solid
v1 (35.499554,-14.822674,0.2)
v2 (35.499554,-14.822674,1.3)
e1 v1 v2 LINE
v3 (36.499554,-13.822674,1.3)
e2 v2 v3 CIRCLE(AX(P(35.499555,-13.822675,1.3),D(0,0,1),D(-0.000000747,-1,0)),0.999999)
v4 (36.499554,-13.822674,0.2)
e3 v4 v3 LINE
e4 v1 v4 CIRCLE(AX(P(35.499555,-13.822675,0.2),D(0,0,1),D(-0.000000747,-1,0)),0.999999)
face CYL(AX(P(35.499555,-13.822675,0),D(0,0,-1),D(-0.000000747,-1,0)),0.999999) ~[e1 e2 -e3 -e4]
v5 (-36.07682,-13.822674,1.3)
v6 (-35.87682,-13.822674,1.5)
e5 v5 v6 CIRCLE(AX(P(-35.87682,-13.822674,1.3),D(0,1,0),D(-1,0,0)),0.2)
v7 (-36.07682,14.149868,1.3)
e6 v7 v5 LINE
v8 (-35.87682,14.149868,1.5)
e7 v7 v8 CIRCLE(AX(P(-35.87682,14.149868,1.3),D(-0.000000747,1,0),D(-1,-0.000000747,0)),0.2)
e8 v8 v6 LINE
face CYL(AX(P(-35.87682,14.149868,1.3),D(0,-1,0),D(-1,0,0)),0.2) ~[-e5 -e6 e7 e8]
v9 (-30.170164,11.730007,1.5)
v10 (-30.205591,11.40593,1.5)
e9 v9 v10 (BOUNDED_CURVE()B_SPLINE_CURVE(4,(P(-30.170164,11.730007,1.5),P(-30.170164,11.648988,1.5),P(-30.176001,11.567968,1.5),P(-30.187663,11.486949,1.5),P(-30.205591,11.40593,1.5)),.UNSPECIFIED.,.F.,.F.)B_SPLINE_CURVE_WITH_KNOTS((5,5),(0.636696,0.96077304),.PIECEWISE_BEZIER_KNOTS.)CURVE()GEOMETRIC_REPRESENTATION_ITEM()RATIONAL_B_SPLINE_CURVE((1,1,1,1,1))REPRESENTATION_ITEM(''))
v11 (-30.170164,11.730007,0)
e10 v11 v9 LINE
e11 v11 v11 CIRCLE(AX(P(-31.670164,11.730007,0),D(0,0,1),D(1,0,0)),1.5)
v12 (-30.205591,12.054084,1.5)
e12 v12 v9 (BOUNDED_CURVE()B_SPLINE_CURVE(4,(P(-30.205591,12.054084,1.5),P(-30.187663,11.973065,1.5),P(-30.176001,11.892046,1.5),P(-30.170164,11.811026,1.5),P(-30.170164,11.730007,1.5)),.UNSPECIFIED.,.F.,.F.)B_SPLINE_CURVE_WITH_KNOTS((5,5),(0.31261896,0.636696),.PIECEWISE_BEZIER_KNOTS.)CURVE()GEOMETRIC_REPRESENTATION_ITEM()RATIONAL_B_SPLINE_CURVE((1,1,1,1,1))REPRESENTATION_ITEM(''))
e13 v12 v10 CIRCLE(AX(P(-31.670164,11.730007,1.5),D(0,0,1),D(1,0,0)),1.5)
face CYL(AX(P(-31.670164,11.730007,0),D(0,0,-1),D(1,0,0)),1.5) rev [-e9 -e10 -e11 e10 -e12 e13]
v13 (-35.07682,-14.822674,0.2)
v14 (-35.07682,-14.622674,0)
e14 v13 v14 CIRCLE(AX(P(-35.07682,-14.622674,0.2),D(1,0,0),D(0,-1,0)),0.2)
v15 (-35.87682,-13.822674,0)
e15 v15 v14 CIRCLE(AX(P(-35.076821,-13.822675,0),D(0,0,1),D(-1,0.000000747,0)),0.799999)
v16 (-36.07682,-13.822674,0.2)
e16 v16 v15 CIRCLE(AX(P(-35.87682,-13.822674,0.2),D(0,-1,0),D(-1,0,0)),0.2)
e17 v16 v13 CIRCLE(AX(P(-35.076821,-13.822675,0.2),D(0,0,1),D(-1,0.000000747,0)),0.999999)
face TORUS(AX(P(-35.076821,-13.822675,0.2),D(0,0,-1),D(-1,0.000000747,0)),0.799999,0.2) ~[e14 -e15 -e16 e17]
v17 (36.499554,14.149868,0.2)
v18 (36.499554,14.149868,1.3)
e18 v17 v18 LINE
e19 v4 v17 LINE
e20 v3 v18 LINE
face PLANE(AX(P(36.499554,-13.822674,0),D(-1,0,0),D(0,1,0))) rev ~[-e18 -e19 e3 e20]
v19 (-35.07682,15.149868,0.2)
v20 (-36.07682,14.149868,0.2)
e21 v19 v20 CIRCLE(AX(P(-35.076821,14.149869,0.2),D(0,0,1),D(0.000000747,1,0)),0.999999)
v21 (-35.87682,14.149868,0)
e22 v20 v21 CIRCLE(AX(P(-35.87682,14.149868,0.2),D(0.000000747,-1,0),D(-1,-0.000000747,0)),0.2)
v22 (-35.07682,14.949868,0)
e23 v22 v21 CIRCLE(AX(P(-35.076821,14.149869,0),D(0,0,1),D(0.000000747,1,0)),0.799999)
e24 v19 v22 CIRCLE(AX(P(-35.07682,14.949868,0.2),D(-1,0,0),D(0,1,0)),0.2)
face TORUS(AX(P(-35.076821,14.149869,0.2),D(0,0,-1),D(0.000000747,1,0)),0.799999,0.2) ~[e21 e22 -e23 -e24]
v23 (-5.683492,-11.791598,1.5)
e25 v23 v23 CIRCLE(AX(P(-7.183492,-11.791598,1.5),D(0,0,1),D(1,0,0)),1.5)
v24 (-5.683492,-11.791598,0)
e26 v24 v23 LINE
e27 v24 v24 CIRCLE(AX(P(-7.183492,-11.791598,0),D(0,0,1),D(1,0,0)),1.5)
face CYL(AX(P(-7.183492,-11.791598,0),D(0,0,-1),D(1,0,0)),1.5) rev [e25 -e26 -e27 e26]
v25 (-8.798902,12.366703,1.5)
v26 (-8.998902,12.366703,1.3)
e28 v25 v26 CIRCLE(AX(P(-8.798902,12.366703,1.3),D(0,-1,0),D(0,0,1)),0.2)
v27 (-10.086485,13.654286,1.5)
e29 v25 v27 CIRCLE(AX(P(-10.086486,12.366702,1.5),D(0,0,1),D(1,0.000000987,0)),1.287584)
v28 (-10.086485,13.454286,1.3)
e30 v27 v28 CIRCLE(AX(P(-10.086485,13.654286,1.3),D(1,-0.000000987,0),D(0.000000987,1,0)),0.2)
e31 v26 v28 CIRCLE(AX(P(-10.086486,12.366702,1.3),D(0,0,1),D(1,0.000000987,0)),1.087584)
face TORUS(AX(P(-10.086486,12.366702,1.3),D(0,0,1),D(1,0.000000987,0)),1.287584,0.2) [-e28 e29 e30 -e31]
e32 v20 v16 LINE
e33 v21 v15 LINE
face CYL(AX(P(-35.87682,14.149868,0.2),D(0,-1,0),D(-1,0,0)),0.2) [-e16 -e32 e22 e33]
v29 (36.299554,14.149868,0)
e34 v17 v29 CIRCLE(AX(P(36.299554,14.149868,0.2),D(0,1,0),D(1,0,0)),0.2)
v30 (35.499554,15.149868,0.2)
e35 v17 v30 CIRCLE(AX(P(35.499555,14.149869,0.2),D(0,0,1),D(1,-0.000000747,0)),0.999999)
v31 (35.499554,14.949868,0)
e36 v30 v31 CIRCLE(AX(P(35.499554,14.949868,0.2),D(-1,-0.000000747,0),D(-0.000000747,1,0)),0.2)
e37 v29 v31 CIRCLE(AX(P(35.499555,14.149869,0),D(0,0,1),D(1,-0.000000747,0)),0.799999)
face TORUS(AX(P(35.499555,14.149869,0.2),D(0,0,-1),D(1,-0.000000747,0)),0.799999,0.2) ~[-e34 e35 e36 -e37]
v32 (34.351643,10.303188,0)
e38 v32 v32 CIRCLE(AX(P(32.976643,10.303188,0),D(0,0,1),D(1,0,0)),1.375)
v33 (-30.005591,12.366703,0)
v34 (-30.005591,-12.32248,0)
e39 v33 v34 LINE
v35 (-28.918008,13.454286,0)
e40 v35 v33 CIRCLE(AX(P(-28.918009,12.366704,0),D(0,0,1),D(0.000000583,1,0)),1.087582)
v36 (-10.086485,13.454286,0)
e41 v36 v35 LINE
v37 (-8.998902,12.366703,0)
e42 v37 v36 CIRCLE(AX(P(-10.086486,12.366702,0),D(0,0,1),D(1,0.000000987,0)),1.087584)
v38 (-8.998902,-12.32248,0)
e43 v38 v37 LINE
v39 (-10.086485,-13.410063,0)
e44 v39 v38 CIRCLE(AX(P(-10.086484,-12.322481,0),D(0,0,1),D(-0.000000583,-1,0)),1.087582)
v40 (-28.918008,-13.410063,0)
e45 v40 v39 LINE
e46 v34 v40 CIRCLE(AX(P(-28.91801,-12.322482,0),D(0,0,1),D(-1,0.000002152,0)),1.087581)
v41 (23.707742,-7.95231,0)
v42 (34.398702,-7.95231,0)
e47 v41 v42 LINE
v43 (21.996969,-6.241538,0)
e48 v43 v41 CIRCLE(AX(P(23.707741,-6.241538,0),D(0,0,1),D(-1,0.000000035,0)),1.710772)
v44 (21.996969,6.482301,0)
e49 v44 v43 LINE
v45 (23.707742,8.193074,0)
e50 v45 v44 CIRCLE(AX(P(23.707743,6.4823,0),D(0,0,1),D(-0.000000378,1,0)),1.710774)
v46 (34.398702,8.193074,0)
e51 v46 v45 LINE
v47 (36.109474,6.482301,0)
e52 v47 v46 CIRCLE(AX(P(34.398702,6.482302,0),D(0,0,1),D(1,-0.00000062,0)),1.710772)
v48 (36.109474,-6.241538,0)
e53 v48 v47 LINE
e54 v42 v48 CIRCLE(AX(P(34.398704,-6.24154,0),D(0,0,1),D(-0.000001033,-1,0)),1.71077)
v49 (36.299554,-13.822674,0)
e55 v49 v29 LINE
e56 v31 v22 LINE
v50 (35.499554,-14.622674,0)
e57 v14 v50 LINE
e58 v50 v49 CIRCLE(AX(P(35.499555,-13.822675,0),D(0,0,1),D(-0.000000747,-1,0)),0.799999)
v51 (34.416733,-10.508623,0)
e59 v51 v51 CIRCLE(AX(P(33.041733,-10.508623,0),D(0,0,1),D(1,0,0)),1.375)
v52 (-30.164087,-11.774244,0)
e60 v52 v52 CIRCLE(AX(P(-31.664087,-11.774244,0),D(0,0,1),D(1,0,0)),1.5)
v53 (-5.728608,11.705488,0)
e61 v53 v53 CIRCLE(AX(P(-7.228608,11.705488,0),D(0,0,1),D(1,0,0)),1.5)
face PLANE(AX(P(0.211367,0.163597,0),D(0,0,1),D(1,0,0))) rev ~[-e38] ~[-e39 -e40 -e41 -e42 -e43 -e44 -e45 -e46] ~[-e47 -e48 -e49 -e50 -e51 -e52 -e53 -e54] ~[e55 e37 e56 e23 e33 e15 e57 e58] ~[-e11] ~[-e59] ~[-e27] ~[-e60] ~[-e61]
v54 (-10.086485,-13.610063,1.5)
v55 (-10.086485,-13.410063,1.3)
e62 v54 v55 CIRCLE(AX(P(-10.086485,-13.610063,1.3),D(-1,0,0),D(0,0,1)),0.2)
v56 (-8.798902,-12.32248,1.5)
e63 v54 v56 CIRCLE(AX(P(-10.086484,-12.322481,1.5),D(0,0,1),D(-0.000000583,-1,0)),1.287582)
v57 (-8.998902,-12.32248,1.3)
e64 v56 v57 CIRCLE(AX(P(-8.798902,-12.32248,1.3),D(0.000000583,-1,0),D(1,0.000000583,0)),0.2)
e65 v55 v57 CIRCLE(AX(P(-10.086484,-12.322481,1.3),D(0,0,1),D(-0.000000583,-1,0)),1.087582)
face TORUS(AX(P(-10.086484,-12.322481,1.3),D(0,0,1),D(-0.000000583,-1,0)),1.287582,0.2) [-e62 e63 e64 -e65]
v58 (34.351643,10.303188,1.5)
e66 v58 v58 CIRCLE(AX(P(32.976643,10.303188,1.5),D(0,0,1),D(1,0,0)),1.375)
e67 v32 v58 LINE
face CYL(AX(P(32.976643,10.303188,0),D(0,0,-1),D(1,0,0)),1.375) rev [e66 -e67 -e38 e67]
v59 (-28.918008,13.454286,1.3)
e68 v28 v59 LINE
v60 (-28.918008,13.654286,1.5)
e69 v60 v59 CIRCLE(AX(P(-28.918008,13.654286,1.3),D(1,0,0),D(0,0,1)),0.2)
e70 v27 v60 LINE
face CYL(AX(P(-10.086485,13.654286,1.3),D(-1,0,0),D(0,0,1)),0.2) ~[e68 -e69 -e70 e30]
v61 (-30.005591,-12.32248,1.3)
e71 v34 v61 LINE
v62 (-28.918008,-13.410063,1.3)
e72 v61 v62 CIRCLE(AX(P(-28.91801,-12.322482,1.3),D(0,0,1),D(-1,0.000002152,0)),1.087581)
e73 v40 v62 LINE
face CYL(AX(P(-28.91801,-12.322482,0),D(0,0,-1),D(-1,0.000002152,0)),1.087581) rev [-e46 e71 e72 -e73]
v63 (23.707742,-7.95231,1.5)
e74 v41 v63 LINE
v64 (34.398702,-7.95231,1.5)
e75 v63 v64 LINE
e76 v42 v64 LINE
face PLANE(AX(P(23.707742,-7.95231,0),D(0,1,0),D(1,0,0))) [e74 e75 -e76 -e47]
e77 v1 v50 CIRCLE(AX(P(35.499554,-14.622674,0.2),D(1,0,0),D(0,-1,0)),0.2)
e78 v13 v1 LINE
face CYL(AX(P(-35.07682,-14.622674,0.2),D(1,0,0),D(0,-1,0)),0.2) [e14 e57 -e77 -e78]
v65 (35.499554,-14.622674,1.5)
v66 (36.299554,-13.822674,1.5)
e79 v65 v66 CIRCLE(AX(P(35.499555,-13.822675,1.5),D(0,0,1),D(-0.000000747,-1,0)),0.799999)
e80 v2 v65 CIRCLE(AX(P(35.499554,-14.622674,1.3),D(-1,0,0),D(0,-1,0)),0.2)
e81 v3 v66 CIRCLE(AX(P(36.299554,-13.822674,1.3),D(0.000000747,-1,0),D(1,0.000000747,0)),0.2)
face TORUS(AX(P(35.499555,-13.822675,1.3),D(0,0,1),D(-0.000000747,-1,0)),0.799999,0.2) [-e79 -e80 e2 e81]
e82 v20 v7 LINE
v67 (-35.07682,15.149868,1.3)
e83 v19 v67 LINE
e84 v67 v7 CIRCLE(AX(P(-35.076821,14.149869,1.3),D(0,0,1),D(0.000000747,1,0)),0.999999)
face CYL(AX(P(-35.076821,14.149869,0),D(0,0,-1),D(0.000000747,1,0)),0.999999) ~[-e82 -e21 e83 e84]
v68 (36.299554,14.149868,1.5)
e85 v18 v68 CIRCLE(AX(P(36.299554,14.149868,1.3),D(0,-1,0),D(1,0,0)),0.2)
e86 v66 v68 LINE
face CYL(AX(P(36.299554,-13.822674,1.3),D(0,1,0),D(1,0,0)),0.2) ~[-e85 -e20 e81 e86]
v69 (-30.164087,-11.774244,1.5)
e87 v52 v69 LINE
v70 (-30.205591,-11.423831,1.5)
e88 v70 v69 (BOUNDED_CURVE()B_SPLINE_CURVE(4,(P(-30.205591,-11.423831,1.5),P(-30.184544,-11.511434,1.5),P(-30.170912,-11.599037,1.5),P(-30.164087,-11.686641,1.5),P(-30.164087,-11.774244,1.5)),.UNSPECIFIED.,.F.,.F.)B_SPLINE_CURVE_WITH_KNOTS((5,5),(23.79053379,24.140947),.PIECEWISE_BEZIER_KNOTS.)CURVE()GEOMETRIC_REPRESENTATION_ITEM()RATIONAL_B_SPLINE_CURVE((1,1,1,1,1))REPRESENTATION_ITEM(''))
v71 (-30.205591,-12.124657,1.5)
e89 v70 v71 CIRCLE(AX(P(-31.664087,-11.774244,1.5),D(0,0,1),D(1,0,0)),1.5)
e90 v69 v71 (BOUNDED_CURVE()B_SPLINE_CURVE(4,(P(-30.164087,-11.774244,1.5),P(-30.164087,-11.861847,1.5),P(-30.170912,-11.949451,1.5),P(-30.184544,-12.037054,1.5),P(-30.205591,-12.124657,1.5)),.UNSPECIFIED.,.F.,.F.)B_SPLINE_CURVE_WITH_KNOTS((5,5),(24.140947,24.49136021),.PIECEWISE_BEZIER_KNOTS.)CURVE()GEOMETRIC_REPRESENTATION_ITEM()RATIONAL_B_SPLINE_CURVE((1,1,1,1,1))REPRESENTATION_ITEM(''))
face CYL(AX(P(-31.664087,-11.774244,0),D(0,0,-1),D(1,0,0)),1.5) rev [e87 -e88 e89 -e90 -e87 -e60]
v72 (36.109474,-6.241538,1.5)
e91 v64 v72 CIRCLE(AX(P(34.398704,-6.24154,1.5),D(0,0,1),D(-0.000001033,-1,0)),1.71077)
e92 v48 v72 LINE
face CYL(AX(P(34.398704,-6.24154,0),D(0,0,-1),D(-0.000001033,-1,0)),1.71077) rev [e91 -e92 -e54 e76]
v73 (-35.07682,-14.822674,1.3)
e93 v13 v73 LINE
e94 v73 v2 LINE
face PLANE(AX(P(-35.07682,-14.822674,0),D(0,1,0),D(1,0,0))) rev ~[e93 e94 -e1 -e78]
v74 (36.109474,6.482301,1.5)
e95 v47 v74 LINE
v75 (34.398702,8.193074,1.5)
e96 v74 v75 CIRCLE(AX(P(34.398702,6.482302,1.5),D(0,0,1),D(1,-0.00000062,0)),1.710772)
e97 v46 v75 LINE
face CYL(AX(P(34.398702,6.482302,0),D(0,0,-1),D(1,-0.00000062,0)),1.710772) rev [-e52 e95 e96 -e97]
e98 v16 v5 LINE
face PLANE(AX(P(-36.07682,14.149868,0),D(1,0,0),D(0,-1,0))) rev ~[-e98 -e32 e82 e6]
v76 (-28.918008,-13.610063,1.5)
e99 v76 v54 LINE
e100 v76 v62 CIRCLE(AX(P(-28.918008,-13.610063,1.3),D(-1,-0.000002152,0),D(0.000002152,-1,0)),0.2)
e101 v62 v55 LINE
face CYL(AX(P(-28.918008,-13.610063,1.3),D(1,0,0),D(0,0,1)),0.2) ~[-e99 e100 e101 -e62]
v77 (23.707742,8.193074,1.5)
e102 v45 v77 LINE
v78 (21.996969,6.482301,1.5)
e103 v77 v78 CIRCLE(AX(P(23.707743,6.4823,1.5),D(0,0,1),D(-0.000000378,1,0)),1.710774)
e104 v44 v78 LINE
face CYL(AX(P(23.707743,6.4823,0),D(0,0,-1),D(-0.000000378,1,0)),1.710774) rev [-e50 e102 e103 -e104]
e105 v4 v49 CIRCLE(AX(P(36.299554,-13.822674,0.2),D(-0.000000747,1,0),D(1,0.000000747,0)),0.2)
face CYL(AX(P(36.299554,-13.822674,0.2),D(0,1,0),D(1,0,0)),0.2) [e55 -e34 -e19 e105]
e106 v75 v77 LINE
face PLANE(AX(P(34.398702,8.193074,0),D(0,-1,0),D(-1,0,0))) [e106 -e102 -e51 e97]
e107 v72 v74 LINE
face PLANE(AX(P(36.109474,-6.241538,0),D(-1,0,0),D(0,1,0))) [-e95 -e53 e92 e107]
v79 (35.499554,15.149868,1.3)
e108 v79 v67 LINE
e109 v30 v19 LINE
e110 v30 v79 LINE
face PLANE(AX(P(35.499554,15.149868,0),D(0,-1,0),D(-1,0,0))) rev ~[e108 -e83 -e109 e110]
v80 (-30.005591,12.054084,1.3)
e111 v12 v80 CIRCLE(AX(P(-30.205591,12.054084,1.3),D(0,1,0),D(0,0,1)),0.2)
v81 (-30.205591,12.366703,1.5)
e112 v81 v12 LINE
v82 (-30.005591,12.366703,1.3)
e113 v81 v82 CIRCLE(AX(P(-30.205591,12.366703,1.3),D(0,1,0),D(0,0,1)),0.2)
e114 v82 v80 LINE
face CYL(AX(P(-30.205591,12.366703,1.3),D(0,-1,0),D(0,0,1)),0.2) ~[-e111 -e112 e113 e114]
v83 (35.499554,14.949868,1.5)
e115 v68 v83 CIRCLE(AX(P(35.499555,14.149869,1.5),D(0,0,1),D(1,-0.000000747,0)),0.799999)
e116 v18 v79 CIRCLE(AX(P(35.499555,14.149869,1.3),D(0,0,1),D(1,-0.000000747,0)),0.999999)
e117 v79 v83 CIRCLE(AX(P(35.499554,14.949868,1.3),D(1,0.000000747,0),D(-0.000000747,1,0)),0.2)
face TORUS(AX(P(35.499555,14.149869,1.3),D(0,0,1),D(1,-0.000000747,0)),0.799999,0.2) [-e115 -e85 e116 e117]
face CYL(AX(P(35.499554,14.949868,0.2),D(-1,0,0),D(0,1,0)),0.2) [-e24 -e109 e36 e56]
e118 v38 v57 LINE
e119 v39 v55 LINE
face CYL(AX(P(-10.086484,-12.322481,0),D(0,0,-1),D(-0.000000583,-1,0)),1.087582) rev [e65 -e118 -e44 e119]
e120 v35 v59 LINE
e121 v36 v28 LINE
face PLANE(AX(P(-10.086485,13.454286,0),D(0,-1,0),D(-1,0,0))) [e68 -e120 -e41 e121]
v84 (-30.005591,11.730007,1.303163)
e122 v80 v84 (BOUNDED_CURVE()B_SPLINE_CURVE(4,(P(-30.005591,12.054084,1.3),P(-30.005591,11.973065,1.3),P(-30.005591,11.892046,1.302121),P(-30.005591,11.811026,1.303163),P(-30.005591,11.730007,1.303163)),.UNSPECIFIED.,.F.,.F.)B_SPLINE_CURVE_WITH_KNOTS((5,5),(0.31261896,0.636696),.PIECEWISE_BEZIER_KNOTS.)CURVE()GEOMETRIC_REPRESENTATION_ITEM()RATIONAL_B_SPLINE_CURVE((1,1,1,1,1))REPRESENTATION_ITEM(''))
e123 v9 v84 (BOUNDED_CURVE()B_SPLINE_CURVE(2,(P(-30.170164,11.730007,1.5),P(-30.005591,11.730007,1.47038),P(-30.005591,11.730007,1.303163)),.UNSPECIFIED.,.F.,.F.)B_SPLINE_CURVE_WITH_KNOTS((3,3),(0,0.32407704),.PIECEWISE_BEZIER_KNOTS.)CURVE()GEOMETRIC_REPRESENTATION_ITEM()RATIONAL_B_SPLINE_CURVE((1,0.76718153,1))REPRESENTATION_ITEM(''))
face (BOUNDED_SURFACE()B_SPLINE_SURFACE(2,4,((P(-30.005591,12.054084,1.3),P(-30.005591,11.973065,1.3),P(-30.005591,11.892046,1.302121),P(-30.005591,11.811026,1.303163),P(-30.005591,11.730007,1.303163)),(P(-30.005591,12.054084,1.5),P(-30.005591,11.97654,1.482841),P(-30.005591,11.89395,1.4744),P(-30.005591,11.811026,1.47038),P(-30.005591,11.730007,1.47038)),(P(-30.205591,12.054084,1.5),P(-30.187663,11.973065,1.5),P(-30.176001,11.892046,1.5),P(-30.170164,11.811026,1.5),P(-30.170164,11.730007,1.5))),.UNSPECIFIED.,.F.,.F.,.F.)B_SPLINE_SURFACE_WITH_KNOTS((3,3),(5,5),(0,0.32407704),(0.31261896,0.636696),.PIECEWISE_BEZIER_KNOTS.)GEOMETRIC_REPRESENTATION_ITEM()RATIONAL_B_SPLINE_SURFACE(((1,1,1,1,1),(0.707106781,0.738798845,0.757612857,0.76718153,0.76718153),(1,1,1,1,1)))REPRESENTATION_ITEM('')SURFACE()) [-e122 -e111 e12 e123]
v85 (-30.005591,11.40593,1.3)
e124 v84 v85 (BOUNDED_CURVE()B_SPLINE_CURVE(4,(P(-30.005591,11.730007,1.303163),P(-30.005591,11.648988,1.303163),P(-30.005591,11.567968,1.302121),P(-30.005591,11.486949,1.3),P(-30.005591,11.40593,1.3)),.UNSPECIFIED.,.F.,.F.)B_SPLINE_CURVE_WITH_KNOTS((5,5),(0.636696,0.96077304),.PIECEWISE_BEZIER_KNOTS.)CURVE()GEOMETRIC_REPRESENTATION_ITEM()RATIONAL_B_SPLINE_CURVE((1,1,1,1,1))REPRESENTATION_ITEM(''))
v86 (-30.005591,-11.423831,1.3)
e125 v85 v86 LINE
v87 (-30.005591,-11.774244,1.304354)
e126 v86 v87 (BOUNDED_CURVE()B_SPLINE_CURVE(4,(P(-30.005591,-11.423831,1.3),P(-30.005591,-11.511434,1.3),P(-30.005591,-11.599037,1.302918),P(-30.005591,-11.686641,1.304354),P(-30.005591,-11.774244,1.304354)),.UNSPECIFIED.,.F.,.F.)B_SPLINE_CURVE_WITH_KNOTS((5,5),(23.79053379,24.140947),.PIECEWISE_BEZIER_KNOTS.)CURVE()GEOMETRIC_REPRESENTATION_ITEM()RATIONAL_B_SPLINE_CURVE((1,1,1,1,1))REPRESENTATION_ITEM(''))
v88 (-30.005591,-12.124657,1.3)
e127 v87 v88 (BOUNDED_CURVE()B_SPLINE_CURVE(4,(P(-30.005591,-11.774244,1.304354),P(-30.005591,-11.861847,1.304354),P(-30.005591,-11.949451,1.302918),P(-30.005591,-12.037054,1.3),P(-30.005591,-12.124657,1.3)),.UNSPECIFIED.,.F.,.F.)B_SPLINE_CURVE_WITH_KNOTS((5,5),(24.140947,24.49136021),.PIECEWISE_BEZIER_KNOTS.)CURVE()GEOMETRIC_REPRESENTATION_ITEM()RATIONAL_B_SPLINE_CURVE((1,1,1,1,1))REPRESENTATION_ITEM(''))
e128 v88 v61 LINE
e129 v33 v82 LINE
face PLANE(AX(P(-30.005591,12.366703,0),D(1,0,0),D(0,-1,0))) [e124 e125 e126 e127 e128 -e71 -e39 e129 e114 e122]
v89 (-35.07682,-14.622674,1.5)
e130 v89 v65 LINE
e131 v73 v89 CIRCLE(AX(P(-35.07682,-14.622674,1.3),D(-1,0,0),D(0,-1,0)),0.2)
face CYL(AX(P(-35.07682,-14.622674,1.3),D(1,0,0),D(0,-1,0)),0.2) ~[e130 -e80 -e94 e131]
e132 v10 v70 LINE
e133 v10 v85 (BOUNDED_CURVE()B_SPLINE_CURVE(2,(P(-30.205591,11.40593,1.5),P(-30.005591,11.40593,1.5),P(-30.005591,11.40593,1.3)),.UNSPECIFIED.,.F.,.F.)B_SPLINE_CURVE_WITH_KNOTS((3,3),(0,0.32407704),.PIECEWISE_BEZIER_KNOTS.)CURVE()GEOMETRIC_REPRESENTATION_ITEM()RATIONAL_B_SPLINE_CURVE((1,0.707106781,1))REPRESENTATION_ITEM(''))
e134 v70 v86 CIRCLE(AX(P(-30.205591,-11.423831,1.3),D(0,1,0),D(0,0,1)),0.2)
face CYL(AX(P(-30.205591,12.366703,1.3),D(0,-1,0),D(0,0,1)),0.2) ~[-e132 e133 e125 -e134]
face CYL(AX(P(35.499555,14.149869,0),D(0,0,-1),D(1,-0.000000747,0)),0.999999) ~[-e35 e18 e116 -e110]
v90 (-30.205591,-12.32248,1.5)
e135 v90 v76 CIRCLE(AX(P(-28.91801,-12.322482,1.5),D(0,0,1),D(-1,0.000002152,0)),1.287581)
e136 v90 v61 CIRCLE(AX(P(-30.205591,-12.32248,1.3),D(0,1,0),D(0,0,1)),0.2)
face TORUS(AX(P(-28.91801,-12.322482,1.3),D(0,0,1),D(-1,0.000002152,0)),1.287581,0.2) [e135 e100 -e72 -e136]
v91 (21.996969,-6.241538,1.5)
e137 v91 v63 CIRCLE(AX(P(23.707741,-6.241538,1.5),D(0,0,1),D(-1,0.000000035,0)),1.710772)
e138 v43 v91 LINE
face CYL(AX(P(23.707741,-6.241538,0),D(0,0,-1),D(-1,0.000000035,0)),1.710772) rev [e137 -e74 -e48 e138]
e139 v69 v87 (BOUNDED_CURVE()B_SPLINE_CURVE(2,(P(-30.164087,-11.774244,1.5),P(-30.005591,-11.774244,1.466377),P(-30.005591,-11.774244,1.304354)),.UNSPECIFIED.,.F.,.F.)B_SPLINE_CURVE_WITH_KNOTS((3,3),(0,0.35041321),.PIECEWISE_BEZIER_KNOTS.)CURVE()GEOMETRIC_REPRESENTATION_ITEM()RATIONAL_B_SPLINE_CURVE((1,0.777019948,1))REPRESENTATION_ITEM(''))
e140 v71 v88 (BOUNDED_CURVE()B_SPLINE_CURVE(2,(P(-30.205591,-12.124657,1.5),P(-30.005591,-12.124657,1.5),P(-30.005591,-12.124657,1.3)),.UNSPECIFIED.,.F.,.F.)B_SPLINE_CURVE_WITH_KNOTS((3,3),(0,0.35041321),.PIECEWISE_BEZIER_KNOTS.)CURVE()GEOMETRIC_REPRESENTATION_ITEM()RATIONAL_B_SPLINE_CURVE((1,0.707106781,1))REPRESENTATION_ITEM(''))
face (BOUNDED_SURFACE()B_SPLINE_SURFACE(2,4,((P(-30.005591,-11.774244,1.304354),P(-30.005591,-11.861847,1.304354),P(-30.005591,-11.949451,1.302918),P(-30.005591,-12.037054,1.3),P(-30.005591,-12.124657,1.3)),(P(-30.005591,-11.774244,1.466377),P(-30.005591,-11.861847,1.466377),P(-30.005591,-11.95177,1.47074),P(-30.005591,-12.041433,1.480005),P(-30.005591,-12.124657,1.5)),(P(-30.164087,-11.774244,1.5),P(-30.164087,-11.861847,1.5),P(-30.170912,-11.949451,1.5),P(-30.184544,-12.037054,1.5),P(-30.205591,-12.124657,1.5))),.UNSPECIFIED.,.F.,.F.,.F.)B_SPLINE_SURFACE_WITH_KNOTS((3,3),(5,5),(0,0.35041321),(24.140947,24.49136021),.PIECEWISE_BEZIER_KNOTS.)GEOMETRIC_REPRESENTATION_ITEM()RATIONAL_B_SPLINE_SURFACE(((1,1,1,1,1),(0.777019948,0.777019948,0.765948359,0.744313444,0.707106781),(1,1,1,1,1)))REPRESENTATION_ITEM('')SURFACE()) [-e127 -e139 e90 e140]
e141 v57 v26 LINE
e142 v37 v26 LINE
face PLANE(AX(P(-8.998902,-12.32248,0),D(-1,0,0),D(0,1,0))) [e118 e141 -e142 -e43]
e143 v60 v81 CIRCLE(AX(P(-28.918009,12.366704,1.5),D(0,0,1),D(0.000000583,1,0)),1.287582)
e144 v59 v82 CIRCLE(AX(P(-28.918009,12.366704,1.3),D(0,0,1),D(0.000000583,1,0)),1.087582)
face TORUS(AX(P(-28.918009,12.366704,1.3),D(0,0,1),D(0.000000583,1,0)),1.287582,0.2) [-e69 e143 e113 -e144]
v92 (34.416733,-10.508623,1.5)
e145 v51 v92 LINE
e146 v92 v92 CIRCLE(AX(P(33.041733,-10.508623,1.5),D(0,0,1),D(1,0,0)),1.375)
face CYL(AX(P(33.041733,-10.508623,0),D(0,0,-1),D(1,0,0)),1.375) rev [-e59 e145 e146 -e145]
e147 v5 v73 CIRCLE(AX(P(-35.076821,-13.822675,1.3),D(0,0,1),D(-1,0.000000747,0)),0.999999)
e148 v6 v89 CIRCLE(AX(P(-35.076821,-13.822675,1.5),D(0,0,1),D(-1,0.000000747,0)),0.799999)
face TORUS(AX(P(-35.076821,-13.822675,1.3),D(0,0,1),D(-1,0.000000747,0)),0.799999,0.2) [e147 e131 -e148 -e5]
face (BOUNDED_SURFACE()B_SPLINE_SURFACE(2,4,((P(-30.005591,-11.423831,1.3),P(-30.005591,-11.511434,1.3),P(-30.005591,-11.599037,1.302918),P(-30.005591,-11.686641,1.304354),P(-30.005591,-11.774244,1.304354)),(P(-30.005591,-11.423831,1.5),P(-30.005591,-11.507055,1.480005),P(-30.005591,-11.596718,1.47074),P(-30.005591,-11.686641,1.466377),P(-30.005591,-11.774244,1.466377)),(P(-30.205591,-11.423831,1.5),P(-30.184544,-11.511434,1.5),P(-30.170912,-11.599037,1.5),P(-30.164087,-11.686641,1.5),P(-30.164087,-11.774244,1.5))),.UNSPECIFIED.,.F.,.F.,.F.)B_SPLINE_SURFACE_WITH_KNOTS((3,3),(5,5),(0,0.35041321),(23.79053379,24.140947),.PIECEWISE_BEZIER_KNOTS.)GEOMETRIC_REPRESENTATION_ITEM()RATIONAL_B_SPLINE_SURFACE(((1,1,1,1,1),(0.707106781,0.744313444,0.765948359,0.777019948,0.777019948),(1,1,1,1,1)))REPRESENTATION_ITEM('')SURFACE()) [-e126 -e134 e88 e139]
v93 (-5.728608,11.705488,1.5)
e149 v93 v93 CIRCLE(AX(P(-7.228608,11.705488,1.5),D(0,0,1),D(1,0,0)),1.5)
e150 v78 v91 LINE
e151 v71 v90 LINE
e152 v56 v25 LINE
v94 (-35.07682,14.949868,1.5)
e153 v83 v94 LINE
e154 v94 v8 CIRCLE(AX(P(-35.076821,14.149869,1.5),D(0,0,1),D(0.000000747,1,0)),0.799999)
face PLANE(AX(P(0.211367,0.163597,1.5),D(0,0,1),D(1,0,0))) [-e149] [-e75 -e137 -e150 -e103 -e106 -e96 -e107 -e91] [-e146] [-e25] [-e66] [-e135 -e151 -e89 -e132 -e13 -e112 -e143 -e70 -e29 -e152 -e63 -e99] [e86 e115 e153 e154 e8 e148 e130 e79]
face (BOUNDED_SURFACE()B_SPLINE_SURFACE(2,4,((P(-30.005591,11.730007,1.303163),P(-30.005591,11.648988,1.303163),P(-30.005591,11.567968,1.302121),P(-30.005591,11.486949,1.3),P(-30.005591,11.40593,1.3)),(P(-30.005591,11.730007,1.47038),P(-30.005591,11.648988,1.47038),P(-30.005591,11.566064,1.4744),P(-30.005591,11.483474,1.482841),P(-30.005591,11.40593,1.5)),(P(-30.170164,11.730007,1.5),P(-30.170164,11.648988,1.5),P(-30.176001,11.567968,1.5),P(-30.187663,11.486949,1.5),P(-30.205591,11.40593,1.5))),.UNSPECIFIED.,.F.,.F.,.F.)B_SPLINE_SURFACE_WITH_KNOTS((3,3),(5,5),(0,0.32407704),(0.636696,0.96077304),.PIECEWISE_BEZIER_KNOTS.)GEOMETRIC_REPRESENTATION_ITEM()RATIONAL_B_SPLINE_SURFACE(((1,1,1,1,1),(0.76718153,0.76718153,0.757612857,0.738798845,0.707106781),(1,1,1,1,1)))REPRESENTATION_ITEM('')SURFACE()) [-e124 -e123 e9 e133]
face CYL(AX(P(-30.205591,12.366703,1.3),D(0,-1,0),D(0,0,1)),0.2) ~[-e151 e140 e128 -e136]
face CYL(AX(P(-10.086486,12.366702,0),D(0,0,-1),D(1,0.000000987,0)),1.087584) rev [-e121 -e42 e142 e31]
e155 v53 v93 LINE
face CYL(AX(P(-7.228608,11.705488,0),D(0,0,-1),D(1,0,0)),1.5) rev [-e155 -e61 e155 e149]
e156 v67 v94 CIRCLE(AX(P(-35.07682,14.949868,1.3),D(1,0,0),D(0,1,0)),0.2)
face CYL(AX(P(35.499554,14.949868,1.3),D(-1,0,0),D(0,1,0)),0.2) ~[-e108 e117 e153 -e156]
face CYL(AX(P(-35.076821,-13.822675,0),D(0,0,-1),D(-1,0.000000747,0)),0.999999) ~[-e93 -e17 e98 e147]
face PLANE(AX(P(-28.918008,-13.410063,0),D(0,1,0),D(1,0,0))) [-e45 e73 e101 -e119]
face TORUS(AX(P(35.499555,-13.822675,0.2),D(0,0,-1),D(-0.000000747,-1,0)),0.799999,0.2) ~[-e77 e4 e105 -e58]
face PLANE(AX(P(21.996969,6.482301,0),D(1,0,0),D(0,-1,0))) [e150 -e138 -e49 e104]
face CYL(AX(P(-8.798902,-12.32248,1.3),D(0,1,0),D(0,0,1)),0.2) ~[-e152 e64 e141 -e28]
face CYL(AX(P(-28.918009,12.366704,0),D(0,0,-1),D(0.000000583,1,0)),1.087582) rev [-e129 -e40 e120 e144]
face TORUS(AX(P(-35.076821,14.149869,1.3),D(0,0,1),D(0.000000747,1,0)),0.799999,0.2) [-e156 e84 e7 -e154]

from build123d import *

# Parameters (mm, degrees)
SKETCH001_R   = 1.5
SKETCH001_R_2 = 1.375
PAD001_DEPTH  = 1.5
FILLET001_R   = 0.2
FILLET002_R   = 0.2
FILLET003_R   = 0.2


with BuildPart() as part:
    # Sketch001 → Pad001 (new body)
    with BuildSketch(Plane.XY):
        with BuildLine():
            Line((-35.07682, -14.822674), (35.499554, -14.822674))
            ThreePointArc((35.499554, -14.822674), (36.206661, -14.529781), (36.499554, -13.822674))
            Line((36.499554, -13.822674), (36.499554, 14.149868))
            ThreePointArc((36.499554, 14.149868), (36.206661, 14.856975), (35.499554, 15.149868))
            Line((35.499554, 15.149868), (-35.07682, 15.149868))
            ThreePointArc((-35.07682, 15.149868), (-35.783927, 14.856975), (-36.07682, 14.149868))
            Line((-36.07682, 14.149868), (-36.07682, -13.822674))
            ThreePointArc((-36.07682, -13.822674), (-35.783927, -14.529781), (-35.07682, -14.822674))
        make_face()
        with Locations((-31.664087, -11.774244)):
            Circle(SKETCH001_R, mode=Mode.SUBTRACT)
        with Locations((-31.670164, 11.730007)):
            Circle(SKETCH001_R, mode=Mode.SUBTRACT)
        with Locations((-7.183492, -11.791598)):
            Circle(SKETCH001_R, mode=Mode.SUBTRACT)
        with Locations((-7.228608, 11.705488)):
            Circle(SKETCH001_R, mode=Mode.SUBTRACT)
        with Locations((32.976643, 10.303188)):
            Circle(SKETCH001_R_2, mode=Mode.SUBTRACT)
        with Locations((33.041733, -10.508623)):
            Circle(SKETCH001_R_2, mode=Mode.SUBTRACT)
        with BuildLine():
            Line((34.398702, 8.193074), (23.707742, 8.193074))
            ThreePointArc((23.707742, 8.193074), (22.498043, 7.692), (21.996969, 6.482301))
            Line((21.996969, 6.482301), (21.996969, -6.241538))
            ThreePointArc((21.996969, -6.241538), (22.498043, -7.451237), (23.707742, -7.95231))
            Line((23.707742, -7.95231), (34.398702, -7.95231))
            ThreePointArc((34.398702, -7.95231), (35.608401, -7.451237), (36.109474, -6.241538))
            Line((36.109474, -6.241538), (36.109474, 6.482301))
            ThreePointArc((36.109474, 6.482301), (35.608401, 7.692), (34.398702, 8.193074))
        make_face(mode=Mode.SUBTRACT)
        with BuildLine():
            Line((-30.005591, 12.366703), (-30.005591, -12.32248))
            ThreePointArc((-30.005591, -12.32248), (-29.687046, -13.091518), (-28.918008, -13.410063))
            Line((-28.918008, -13.410063), (-10.086485, -13.410063))
            ThreePointArc((-10.086485, -13.410063), (-9.317448, -13.091518), (-8.998902, -12.32248))
            Line((-8.998902, -12.32248), (-8.998902, 12.366703))
            ThreePointArc((-8.998902, 12.366703), (-9.317448, 13.13574), (-10.086485, 13.454286))
            Line((-10.086485, 13.454286), (-28.918008, 13.454286))
            ThreePointArc((-28.918008, 13.454286), (-29.687046, 13.13574), (-30.005591, 12.366703))
        make_face(mode=Mode.SUBTRACT)
    extrude(amount=PAD001_DEPTH)

    # Fillet001
    fillet001_edges = [part.edges().sort_by_distance(p)[0] for p in [
        (0.211367, -14.822674, 1.5),
    ]]
    fillet(fillet001_edges, radius=FILLET001_R)

    # Fillet002
    fillet002_edges = [part.edges().sort_by_distance(p)[0] for p in [
        (0.211367, -14.822674, 0),
    ]]
    fillet(fillet002_edges, radius=FILLET002_R)

    # Fillet003
    fillet003_edges = [part.edges().sort_by_distance(p)[0] for p in [
        (-30.005591, 0.022111, 1.5),
    ]]
    fillet(fillet003_edges, radius=FILLET003_R)


solid = part.part
